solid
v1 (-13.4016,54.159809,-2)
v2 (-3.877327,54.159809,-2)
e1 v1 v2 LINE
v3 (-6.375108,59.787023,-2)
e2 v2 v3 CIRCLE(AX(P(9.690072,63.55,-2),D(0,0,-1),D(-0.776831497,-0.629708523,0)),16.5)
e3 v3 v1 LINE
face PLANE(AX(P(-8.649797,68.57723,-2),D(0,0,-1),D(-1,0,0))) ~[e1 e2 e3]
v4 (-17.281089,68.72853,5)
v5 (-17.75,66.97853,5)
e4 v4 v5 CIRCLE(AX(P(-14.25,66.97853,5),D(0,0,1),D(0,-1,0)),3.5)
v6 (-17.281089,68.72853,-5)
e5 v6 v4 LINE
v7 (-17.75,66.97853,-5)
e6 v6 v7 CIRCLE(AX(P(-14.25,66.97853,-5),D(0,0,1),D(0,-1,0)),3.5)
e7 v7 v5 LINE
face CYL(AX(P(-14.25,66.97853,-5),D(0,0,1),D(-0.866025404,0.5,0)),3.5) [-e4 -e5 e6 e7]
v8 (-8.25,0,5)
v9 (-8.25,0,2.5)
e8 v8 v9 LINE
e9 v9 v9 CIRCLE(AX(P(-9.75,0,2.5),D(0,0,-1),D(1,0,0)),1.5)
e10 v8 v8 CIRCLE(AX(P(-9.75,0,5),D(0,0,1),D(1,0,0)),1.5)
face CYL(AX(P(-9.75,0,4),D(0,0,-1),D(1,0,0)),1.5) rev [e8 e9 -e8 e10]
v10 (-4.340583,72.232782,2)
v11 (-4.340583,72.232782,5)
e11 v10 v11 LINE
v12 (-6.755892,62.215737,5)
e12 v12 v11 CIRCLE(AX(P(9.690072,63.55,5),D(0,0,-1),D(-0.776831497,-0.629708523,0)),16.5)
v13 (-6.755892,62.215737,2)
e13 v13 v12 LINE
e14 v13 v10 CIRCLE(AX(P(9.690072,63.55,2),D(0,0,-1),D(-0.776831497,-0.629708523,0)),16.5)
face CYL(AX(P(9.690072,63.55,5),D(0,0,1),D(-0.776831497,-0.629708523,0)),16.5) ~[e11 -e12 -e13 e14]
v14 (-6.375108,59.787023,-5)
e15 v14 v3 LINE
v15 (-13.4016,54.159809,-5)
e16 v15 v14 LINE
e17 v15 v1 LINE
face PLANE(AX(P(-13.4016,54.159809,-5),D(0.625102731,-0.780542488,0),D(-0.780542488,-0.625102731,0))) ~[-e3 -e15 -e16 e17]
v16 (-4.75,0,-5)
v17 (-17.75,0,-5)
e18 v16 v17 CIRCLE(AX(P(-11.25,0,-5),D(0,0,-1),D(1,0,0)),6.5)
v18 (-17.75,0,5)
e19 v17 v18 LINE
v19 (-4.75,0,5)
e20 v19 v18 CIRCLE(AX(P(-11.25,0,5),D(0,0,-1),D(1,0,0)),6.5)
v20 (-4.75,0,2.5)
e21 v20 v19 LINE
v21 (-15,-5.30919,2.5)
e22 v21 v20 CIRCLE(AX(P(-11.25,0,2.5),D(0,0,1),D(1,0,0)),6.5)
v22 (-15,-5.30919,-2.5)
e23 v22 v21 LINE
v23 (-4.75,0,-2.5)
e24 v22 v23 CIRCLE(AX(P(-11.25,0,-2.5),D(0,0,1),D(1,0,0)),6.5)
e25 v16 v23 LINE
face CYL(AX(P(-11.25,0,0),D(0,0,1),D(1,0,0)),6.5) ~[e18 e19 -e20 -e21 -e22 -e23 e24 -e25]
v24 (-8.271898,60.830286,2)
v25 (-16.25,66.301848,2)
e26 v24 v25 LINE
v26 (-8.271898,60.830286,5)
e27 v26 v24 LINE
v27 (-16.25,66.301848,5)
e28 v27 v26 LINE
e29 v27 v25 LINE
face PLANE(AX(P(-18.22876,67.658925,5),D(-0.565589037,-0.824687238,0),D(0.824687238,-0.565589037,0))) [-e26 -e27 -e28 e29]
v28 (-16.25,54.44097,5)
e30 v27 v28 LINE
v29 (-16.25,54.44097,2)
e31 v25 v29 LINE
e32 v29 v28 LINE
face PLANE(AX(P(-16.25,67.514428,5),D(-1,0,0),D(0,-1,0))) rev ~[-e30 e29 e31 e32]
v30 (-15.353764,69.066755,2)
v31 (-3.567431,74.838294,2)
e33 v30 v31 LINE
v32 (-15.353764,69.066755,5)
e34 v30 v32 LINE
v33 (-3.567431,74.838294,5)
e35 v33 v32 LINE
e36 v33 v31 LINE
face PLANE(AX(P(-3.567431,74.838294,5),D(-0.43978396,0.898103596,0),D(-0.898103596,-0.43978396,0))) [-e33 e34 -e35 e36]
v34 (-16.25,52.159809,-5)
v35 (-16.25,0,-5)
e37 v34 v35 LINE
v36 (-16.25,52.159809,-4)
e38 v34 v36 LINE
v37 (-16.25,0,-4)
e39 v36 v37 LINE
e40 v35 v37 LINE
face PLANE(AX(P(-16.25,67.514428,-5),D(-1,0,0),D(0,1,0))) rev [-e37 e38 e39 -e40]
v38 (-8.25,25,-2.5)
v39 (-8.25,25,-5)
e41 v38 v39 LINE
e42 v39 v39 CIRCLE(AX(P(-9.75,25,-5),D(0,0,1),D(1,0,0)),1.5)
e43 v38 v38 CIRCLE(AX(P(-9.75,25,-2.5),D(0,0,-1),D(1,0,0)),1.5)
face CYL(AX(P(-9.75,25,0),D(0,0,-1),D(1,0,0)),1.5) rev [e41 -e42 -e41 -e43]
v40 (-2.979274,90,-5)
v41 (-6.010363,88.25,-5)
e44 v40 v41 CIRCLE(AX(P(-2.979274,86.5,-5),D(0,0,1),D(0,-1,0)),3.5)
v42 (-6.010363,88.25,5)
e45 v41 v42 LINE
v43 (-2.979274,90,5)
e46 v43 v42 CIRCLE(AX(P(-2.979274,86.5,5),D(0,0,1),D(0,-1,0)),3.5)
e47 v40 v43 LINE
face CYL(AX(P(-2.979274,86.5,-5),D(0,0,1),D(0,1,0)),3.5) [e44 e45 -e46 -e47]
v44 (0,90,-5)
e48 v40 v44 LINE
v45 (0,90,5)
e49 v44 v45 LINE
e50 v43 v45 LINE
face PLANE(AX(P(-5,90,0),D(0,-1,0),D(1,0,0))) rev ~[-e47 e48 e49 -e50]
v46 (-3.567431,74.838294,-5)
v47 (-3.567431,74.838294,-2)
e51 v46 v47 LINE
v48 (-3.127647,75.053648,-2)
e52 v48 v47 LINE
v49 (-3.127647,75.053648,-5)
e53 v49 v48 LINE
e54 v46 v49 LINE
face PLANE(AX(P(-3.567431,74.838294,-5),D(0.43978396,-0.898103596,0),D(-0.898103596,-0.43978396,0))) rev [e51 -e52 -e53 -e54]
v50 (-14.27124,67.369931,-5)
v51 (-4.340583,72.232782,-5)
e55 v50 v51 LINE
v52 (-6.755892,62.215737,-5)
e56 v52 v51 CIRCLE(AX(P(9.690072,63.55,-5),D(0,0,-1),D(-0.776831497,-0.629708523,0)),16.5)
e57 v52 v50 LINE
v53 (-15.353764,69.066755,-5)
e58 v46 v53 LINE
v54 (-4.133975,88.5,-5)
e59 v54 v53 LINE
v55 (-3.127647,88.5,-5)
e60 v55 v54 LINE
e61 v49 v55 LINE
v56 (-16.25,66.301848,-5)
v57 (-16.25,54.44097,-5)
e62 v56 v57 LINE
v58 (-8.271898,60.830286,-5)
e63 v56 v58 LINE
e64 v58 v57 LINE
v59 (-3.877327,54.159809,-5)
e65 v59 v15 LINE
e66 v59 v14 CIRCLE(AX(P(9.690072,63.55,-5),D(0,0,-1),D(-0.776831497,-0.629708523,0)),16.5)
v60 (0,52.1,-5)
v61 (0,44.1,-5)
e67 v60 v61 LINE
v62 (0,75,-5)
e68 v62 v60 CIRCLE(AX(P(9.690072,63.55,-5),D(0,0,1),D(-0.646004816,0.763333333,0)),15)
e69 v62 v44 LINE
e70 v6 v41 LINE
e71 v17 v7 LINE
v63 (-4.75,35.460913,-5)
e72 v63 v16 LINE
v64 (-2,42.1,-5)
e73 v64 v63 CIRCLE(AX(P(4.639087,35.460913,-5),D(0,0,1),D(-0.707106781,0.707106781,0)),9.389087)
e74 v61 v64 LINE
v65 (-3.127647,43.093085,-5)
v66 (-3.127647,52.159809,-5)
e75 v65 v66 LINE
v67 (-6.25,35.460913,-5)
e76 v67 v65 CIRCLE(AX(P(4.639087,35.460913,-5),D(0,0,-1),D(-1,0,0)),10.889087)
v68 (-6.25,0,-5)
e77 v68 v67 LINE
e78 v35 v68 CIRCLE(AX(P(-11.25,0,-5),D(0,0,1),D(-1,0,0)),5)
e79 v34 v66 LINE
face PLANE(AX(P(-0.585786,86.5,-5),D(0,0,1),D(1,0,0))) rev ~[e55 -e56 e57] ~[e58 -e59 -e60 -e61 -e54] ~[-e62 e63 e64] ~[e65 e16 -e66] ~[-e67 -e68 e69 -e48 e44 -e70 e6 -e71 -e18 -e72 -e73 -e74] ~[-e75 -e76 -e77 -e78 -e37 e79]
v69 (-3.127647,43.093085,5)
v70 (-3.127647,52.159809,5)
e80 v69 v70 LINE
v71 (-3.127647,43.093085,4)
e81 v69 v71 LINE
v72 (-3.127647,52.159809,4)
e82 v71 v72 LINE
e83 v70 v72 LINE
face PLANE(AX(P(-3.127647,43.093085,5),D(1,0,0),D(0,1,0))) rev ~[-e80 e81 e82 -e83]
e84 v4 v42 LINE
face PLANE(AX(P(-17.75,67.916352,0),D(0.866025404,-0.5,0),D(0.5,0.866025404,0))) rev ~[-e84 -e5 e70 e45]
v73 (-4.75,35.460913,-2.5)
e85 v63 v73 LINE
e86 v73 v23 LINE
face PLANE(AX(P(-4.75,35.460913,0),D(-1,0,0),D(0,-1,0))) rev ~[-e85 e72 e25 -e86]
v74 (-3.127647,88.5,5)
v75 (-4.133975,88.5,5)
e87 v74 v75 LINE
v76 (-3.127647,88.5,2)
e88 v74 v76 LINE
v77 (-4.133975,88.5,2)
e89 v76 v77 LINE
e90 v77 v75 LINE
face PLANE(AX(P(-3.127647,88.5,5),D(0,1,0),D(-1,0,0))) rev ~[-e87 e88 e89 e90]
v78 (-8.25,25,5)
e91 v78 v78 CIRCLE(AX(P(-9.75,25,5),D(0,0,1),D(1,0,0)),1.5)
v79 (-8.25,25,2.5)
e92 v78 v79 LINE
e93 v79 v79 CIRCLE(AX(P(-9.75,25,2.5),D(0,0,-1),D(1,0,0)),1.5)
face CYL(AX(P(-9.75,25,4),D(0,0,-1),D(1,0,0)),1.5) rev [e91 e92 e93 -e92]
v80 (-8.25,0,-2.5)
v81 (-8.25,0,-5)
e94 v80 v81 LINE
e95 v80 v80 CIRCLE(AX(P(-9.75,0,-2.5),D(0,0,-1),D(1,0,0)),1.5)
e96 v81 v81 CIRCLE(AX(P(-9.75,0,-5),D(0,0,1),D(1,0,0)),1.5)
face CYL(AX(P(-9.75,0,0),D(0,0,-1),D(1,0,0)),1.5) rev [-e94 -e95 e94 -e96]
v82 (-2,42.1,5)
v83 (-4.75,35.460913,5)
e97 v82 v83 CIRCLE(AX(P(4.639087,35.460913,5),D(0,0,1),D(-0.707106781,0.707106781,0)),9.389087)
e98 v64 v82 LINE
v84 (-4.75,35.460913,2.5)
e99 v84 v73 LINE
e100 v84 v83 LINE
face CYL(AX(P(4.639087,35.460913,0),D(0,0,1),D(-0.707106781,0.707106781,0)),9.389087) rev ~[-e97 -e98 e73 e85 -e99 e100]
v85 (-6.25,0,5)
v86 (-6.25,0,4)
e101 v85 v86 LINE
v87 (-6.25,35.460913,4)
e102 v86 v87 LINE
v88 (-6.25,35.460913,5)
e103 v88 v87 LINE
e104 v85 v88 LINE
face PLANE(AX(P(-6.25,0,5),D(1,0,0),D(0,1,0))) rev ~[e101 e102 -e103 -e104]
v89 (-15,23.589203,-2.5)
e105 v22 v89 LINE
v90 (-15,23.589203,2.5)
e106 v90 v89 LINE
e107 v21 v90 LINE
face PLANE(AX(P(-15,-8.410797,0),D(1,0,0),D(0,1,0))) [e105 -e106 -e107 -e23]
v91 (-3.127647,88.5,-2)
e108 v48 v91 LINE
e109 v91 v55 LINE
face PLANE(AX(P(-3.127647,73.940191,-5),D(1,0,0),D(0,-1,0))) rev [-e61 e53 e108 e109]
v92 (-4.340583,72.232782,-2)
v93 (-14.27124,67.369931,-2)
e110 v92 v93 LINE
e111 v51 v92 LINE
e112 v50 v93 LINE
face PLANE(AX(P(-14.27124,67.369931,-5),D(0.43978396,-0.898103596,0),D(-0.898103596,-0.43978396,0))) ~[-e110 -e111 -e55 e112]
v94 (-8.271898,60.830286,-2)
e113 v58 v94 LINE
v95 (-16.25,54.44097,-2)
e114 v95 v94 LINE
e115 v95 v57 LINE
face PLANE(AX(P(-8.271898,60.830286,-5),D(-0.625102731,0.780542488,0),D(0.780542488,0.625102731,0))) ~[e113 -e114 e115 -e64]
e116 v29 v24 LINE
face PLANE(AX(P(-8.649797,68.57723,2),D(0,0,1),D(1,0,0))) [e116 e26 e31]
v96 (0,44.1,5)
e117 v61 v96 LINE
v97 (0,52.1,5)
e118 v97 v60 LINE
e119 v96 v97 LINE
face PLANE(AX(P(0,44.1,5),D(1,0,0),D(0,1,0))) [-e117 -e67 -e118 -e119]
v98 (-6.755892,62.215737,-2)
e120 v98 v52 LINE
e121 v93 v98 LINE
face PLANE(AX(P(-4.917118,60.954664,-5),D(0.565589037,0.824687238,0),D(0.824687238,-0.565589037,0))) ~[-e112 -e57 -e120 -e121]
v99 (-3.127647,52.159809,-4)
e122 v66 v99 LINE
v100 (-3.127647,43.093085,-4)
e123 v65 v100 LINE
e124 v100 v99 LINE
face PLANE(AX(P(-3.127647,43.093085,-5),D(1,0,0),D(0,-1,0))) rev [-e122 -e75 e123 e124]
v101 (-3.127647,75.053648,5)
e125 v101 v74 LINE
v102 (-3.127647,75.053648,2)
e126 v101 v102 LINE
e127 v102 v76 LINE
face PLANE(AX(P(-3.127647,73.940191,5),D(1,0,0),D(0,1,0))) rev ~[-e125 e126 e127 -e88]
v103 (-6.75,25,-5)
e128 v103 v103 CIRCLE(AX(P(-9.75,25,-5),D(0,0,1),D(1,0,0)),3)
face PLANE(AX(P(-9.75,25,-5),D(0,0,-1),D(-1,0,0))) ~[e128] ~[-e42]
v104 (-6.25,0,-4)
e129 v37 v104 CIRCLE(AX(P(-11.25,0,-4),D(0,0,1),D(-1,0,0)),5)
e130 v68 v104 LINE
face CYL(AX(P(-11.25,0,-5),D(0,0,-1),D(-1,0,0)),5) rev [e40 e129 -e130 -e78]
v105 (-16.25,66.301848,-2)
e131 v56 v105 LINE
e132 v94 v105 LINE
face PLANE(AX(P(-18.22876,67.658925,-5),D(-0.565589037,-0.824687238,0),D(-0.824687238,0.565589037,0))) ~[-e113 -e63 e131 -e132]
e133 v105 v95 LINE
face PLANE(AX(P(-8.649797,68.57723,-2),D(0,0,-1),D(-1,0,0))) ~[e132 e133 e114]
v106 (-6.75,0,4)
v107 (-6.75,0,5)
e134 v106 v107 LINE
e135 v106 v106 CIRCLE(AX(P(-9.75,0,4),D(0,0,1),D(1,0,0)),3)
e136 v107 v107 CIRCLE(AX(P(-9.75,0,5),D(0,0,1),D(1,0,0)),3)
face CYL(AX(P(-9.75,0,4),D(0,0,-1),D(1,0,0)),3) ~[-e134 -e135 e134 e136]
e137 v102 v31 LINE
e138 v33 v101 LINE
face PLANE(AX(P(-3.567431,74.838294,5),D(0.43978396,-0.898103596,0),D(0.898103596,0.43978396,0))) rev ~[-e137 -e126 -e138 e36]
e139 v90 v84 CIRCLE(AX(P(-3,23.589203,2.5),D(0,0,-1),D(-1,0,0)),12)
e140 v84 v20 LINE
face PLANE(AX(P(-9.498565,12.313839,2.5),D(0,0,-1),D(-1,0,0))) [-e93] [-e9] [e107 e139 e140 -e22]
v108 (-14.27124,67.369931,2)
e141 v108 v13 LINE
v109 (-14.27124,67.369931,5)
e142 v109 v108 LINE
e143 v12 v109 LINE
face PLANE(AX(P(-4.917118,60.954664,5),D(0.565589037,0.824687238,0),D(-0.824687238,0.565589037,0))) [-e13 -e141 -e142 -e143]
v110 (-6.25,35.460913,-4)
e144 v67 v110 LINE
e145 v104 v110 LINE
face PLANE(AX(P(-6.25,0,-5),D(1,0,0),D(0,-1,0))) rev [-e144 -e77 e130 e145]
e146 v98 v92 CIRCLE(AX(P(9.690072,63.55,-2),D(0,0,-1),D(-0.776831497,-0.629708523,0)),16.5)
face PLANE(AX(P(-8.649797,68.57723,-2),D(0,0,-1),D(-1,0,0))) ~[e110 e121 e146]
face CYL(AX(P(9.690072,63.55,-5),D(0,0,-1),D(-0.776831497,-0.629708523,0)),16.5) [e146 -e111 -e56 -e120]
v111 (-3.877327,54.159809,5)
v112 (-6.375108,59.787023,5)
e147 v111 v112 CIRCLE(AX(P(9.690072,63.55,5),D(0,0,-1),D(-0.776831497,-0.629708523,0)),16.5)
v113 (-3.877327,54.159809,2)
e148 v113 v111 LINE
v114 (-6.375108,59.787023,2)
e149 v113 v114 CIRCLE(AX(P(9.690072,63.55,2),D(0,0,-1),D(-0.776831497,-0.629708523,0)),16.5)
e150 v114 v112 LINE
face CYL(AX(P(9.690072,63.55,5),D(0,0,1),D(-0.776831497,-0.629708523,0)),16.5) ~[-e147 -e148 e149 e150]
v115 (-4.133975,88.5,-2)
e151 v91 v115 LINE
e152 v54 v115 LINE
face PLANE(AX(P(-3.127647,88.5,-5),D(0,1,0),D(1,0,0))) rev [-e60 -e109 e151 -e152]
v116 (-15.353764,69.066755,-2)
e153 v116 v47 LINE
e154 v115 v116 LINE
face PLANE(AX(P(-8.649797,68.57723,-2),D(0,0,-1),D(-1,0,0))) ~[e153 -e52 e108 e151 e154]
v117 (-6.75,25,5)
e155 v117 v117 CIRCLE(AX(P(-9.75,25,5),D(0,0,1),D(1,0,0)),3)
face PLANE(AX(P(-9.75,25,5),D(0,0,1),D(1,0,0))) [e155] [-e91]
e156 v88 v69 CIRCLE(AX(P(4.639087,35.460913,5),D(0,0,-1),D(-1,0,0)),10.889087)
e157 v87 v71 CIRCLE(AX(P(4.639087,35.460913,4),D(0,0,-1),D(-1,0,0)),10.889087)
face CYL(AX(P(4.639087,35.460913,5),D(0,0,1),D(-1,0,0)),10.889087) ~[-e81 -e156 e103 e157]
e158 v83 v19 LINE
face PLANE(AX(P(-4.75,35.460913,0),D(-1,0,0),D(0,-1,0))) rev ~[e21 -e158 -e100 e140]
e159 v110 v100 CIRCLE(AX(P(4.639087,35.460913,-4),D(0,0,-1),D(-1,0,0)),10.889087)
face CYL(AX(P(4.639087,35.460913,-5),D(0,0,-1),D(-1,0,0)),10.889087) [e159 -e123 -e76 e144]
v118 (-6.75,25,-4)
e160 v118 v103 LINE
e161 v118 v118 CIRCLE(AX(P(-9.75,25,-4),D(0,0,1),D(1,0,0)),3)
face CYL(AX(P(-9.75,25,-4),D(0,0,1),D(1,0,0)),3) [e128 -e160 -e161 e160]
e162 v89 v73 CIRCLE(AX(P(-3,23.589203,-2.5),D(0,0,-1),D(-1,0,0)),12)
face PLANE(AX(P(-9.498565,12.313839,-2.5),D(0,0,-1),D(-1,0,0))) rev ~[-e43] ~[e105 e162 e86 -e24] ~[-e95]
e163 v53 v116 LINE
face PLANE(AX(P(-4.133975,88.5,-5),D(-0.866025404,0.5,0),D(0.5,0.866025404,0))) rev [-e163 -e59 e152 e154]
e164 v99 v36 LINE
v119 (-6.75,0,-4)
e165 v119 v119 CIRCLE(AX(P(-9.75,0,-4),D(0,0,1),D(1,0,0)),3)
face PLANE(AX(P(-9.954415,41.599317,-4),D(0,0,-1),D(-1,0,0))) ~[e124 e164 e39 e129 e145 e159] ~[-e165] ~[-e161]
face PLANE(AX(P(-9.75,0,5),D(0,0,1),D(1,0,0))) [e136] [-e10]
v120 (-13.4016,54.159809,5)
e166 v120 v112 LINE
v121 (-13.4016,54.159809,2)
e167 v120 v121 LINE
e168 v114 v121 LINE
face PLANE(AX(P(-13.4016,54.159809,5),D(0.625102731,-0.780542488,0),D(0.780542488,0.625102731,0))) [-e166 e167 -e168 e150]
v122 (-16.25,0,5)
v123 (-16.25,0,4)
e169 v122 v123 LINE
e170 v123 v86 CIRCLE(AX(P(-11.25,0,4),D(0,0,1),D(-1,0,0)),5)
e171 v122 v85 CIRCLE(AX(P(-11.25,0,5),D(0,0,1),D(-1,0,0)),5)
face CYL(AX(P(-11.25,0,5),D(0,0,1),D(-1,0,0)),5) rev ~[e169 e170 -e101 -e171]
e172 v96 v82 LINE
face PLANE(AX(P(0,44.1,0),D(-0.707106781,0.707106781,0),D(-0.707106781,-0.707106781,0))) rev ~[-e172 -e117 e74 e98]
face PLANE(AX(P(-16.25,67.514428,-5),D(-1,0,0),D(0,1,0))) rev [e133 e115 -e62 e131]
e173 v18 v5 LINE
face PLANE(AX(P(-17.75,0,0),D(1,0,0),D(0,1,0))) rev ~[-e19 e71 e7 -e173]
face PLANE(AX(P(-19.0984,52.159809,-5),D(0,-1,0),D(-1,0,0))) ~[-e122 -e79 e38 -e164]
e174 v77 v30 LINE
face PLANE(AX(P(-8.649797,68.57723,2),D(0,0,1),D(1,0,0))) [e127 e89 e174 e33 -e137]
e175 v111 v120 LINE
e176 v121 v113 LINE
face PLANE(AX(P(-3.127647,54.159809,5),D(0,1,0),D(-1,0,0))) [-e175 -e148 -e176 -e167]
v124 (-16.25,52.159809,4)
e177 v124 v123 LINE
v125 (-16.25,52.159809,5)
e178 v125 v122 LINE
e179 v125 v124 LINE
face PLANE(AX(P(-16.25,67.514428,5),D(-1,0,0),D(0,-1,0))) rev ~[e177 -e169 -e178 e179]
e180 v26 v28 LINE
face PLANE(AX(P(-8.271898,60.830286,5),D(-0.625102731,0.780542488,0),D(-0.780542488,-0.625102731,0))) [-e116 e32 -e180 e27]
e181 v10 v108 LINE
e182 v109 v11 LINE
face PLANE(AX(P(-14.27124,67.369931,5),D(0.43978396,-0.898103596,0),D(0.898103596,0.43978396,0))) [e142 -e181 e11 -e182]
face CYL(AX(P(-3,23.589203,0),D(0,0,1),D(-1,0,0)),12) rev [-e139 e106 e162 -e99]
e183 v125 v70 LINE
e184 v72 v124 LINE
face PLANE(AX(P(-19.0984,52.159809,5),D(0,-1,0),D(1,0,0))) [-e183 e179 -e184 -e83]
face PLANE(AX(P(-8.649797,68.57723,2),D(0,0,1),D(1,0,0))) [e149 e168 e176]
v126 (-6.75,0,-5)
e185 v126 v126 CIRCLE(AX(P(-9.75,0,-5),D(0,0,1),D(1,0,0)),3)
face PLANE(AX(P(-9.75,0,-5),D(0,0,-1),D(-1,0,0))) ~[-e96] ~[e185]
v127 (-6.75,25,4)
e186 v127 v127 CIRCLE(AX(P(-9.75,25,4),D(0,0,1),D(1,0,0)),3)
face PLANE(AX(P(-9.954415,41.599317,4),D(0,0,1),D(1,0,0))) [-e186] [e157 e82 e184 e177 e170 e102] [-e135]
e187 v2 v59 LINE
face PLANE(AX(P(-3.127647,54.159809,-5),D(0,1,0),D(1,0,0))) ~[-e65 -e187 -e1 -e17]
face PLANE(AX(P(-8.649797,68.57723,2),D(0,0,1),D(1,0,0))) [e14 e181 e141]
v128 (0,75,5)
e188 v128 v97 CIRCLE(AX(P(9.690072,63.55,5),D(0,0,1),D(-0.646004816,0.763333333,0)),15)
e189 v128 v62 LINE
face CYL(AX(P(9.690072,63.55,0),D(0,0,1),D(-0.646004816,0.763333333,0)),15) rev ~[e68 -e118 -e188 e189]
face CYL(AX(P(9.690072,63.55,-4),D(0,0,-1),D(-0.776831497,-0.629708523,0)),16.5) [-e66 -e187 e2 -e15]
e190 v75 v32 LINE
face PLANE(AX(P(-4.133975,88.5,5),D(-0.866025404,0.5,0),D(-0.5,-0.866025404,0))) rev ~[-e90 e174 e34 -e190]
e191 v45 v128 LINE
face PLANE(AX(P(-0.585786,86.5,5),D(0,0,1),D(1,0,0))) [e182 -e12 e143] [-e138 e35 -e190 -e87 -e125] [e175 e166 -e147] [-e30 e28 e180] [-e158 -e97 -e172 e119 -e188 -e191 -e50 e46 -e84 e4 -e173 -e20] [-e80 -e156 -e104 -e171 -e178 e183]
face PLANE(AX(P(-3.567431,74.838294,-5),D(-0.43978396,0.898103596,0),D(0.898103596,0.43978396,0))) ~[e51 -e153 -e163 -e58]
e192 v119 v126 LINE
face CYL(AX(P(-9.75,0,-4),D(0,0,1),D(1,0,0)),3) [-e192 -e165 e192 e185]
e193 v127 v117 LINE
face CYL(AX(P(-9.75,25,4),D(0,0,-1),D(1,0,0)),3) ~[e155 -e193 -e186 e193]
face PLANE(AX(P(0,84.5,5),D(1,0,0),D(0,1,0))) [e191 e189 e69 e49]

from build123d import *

# Parameters (mm, degrees)
SKETCH1_R           = 1.5
BOSS_EXTRUDE1_DEPTH = 5
CUT_EXTRUDE1_DEPTH  = 2.5
CUT_EXTRUDE3_DEPTH  = 1
SKETCH4_R           = 3
SKETCH4_R_2         = 1.5
EXTRUDE_THIN1_DEPTH = 1
CUT_EXTRUDE4_DEPTH  = 2
EXTRUDE_THIN2_REACH = 94.277
BOSS_EXTRUDE2_REACH = 94.277
FILLET1_R           = 3.5
BOSS_EXTRUDE8_DEPTH = 10


with BuildPart() as part:
    # Sketch1 → Boss-Extrude1 (new, symmetric)
    with BuildSketch(Plane.XY):
        with BuildLine():
            Line((0, 88.5), (-2, 86.5))
            Line((-2, 86.5), (0, 84.5))
            Line((0, 84.5), (-2, 82.5))
            Line((-2, 82.5), (0, 80.5))
            Line((0, 80.5), (-2, 78.5))
            Line((-2, 78.5), (0, 76.5))
            Line((0, 76.5), (0, 75))
            ThreePointArc((0, 75), (-5.309927761, 63.55), (0, 52.1))
            Line((0, 52.1), (-2, 50.1))
            Line((-2, 50.1), (0, 48.1))
            Line((0, 48.1), (-2, 46.1))
            Line((-2, 46.1), (0, 44.1))
            Line((0, 44.1), (-2, 42.1))
            ThreePointArc((-2, 42.1), (-4.035298286, 39.053960857), (-4.75, 35.460912703))
            Line((-4.75, 35.460912703), (-4.75, 0))
            ThreePointArc((-4.75, 0), (-11.25, -6.5), (-17.75, 0))
            Line((-17.75, 0), (-17.75, 67.916352203))
            Line((-17.75, 67.916352203), (-5, 90))
            Line((-5, 90), (0, 90))
            Line((0, 90), (0, 88.5))
        make_face()
        with Locations((-9.75, 0)):
            Circle(SKETCH1_R, mode=Mode.SUBTRACT)
        with Locations((-9.75, 25)):
            Circle(SKETCH1_R, mode=Mode.SUBTRACT)
    extrude(amount=BOSS_EXTRUDE1_DEPTH, both=True)

    # Sketch2 → Cut-Extrude1 (cut, symmetric)
    with BuildSketch(Plane.XY):
        with BuildLine():
            Line((-15, -8.410797367), (-15, 23.589202633))
            ThreePointArc((-15, 23.589202633), (-12.082951062, 31.431396204), (-4.75, 35.460912703))
            Line((-4.75, 35.460912703), (-4.75, -8.410797367))
            Line((-4.75, -8.410797367), (-15, -8.410797367))
        make_face()
    cut_extrude1 = extrude(amount=CUT_EXTRUDE1_DEPTH, both=True, mode=Mode.SUBTRACT)

    # Sketch3 → Cut-Extrude3 (cut)
    with BuildSketch(Plane.XY.offset(5)):
        with BuildLine():
            Line((-3.12764747, 88.5), (-4.133974596, 88.5))
            Line((-4.133974596, 88.5), (-16.25, 67.514428415))
            Line((-16.25, 67.514428415), (-16.25, 0))
            ThreePointArc((-16.25, 0), (-11.25, -5), (-6.25, 0))
            Line((-6.25, 0), (-6.25, 35.460912703))
            ThreePointArc((-6.25, 35.460912703), (-5.439227916, 39.583992212), (-3.12764747, 43.093084951))
            Line((-3.12764747, 43.093084951), (-3.12764747, 53.159809364))
            ThreePointArc((-3.12764747, 53.159809364), (-6.809927761, 63.55), (-3.12764747, 73.940190636))
            Line((-3.12764747, 73.940190636), (-3.12764747, 88.5))
        make_face()
    cut_extrude3 = extrude(amount=-CUT_EXTRUDE3_DEPTH, mode=Mode.SUBTRACT)

    # Sketch4 → Extrude-Thin1 (add)
    # profile 1 of 2: a face of its own
    with BuildSketch(Plane.XY.offset(4)):
        with Locations((-9.75, 25)):
            Circle(SKETCH4_R)
        with Locations((-9.75, 25)):
            Circle(SKETCH4_R_2, mode=Mode.SUBTRACT)
    # profile 2 of 2: a face of its own
    with BuildSketch(Plane.XY.offset(4)):
        with Locations((-9.75, 0)):
            Circle(SKETCH4_R)
        with Locations((-9.75, 0)):
            Circle(SKETCH4_R_2, mode=Mode.SUBTRACT)
    extrude_thin1 = extrude(amount=EXTRUDE_THIN1_DEPTH)

    # Sketch5 → Cut-Extrude4 (cut)
    with BuildSketch(Plane.XY.offset(4)):
        with BuildLine():
            Line((-16.25, 53.159809364), (-3.12764747, 53.159809364))
            ThreePointArc((-3.12764747, 53.159809364), (-6.809927761, 63.55), (-3.12764747, 73.940190636))
            Line((-3.12764747, 73.940190636), (-3.12764747, 88.5))
            Line((-3.12764747, 88.5), (-4.133974596, 88.5))
            Line((-4.133974596, 88.5), (-16.25, 67.514428415))
            Line((-16.25, 67.514428415), (-16.25, 53.159809364))
        make_face()
    cut_extrude4 = extrude(amount=-CUT_EXTRUDE4_DEPTH, mode=Mode.SUBTRACT)

    # Sketch6 → Extrude-Thin2 (add, up to next)
    with BuildSketch(Plane.XY.offset(5), mode=Mode.PRIVATE) as extrude_thin2_sk1:
        Polygon((-3.12764747, 54.159809364), (-13.401600212, 54.159809364), (-4.917118083, 60.954664271), (-14.27124031, 67.369931467), (-2.68786351, 73.042087041), (-3.56743143, 74.838294232), (-18.22875969, 67.658925362), (-8.271898443, 60.830286203), (-19.098399788, 52.159809364), (-3.12764747, 52.159809364), align=None)
    extrude_thin2_tool1 = extrude(extrude_thin2_sk1.sketch, amount=-EXTRUDE_THIN2_REACH, mode=Mode.PRIVATE) - part.part
    extrude_thin2 = extrude_thin2_tool1.solids().sort_by_distance((-8.264624, 53.879877, 5))[0]
    add(extrude_thin2)

    # Sketch7 → Boss-Extrude2 (add, up to next)
    with BuildSketch(Plane.XY.offset(5), mode=Mode.PRIVATE) as boss_extrude2_sk1:
        Polygon((-3.12764747, 73.940190636), (-3.56743143, 74.838294232), (-3.12764747, 75.053647931), align=None)
    boss_extrude2_tool1 = extrude(boss_extrude2_sk1.sketch, amount=-BOSS_EXTRUDE2_REACH, mode=Mode.PRIVATE) - part.part
    boss_extrude2 = boss_extrude2_tool1.solids().sort_by_distance((-3.274242, 74.610711, 5))[0]
    add(boss_extrude2)

    # Mirror2: Cut-Extrude1, Cut-Extrude3, Extrude-Thin1, Cut-Extrude4, Extrude-Thin2, Boss-Extrude2 across plane
    add(cut_extrude1.mirror(Plane.XY), mode=Mode.SUBTRACT)
    add(cut_extrude3.mirror(Plane.XY), mode=Mode.SUBTRACT)
    add(extrude_thin1.mirror(Plane.XY))
    add(cut_extrude4.mirror(Plane.XY), mode=Mode.SUBTRACT)
    add(extrude_thin2.mirror(Plane.XY))
    add(boss_extrude2.mirror(Plane.XY))

    # Fillet1
    fillet1_edges = [part.edges().sort_by_distance(p)[0] for p in [
        (-17.75, 67.916352203, 0),
        (-5, 90, 0),
    ]]
    fillet(fillet1_edges, radius=FILLET1_R)

    # Sketch11 → Boss-Extrude8 (add)
    with BuildSketch(Plane.XY.offset(5)):
        Polygon((0, 84.5), (0, 88.5), (-2, 86.5), align=None)
        Polygon((0, 80.5), (0, 84.5), (-2, 82.5), align=None)
        Polygon((0, 76.5), (0, 80.5), (-2, 78.5), align=None)
        Polygon((0, 48.1), (0, 52.1), (-2, 50.1), align=None)
        Polygon((0, 44.1), (0, 48.1), (-2, 46.1), align=None)
    extrude(amount=-BOSS_EXTRUDE8_DEPTH)


solid = part.part
